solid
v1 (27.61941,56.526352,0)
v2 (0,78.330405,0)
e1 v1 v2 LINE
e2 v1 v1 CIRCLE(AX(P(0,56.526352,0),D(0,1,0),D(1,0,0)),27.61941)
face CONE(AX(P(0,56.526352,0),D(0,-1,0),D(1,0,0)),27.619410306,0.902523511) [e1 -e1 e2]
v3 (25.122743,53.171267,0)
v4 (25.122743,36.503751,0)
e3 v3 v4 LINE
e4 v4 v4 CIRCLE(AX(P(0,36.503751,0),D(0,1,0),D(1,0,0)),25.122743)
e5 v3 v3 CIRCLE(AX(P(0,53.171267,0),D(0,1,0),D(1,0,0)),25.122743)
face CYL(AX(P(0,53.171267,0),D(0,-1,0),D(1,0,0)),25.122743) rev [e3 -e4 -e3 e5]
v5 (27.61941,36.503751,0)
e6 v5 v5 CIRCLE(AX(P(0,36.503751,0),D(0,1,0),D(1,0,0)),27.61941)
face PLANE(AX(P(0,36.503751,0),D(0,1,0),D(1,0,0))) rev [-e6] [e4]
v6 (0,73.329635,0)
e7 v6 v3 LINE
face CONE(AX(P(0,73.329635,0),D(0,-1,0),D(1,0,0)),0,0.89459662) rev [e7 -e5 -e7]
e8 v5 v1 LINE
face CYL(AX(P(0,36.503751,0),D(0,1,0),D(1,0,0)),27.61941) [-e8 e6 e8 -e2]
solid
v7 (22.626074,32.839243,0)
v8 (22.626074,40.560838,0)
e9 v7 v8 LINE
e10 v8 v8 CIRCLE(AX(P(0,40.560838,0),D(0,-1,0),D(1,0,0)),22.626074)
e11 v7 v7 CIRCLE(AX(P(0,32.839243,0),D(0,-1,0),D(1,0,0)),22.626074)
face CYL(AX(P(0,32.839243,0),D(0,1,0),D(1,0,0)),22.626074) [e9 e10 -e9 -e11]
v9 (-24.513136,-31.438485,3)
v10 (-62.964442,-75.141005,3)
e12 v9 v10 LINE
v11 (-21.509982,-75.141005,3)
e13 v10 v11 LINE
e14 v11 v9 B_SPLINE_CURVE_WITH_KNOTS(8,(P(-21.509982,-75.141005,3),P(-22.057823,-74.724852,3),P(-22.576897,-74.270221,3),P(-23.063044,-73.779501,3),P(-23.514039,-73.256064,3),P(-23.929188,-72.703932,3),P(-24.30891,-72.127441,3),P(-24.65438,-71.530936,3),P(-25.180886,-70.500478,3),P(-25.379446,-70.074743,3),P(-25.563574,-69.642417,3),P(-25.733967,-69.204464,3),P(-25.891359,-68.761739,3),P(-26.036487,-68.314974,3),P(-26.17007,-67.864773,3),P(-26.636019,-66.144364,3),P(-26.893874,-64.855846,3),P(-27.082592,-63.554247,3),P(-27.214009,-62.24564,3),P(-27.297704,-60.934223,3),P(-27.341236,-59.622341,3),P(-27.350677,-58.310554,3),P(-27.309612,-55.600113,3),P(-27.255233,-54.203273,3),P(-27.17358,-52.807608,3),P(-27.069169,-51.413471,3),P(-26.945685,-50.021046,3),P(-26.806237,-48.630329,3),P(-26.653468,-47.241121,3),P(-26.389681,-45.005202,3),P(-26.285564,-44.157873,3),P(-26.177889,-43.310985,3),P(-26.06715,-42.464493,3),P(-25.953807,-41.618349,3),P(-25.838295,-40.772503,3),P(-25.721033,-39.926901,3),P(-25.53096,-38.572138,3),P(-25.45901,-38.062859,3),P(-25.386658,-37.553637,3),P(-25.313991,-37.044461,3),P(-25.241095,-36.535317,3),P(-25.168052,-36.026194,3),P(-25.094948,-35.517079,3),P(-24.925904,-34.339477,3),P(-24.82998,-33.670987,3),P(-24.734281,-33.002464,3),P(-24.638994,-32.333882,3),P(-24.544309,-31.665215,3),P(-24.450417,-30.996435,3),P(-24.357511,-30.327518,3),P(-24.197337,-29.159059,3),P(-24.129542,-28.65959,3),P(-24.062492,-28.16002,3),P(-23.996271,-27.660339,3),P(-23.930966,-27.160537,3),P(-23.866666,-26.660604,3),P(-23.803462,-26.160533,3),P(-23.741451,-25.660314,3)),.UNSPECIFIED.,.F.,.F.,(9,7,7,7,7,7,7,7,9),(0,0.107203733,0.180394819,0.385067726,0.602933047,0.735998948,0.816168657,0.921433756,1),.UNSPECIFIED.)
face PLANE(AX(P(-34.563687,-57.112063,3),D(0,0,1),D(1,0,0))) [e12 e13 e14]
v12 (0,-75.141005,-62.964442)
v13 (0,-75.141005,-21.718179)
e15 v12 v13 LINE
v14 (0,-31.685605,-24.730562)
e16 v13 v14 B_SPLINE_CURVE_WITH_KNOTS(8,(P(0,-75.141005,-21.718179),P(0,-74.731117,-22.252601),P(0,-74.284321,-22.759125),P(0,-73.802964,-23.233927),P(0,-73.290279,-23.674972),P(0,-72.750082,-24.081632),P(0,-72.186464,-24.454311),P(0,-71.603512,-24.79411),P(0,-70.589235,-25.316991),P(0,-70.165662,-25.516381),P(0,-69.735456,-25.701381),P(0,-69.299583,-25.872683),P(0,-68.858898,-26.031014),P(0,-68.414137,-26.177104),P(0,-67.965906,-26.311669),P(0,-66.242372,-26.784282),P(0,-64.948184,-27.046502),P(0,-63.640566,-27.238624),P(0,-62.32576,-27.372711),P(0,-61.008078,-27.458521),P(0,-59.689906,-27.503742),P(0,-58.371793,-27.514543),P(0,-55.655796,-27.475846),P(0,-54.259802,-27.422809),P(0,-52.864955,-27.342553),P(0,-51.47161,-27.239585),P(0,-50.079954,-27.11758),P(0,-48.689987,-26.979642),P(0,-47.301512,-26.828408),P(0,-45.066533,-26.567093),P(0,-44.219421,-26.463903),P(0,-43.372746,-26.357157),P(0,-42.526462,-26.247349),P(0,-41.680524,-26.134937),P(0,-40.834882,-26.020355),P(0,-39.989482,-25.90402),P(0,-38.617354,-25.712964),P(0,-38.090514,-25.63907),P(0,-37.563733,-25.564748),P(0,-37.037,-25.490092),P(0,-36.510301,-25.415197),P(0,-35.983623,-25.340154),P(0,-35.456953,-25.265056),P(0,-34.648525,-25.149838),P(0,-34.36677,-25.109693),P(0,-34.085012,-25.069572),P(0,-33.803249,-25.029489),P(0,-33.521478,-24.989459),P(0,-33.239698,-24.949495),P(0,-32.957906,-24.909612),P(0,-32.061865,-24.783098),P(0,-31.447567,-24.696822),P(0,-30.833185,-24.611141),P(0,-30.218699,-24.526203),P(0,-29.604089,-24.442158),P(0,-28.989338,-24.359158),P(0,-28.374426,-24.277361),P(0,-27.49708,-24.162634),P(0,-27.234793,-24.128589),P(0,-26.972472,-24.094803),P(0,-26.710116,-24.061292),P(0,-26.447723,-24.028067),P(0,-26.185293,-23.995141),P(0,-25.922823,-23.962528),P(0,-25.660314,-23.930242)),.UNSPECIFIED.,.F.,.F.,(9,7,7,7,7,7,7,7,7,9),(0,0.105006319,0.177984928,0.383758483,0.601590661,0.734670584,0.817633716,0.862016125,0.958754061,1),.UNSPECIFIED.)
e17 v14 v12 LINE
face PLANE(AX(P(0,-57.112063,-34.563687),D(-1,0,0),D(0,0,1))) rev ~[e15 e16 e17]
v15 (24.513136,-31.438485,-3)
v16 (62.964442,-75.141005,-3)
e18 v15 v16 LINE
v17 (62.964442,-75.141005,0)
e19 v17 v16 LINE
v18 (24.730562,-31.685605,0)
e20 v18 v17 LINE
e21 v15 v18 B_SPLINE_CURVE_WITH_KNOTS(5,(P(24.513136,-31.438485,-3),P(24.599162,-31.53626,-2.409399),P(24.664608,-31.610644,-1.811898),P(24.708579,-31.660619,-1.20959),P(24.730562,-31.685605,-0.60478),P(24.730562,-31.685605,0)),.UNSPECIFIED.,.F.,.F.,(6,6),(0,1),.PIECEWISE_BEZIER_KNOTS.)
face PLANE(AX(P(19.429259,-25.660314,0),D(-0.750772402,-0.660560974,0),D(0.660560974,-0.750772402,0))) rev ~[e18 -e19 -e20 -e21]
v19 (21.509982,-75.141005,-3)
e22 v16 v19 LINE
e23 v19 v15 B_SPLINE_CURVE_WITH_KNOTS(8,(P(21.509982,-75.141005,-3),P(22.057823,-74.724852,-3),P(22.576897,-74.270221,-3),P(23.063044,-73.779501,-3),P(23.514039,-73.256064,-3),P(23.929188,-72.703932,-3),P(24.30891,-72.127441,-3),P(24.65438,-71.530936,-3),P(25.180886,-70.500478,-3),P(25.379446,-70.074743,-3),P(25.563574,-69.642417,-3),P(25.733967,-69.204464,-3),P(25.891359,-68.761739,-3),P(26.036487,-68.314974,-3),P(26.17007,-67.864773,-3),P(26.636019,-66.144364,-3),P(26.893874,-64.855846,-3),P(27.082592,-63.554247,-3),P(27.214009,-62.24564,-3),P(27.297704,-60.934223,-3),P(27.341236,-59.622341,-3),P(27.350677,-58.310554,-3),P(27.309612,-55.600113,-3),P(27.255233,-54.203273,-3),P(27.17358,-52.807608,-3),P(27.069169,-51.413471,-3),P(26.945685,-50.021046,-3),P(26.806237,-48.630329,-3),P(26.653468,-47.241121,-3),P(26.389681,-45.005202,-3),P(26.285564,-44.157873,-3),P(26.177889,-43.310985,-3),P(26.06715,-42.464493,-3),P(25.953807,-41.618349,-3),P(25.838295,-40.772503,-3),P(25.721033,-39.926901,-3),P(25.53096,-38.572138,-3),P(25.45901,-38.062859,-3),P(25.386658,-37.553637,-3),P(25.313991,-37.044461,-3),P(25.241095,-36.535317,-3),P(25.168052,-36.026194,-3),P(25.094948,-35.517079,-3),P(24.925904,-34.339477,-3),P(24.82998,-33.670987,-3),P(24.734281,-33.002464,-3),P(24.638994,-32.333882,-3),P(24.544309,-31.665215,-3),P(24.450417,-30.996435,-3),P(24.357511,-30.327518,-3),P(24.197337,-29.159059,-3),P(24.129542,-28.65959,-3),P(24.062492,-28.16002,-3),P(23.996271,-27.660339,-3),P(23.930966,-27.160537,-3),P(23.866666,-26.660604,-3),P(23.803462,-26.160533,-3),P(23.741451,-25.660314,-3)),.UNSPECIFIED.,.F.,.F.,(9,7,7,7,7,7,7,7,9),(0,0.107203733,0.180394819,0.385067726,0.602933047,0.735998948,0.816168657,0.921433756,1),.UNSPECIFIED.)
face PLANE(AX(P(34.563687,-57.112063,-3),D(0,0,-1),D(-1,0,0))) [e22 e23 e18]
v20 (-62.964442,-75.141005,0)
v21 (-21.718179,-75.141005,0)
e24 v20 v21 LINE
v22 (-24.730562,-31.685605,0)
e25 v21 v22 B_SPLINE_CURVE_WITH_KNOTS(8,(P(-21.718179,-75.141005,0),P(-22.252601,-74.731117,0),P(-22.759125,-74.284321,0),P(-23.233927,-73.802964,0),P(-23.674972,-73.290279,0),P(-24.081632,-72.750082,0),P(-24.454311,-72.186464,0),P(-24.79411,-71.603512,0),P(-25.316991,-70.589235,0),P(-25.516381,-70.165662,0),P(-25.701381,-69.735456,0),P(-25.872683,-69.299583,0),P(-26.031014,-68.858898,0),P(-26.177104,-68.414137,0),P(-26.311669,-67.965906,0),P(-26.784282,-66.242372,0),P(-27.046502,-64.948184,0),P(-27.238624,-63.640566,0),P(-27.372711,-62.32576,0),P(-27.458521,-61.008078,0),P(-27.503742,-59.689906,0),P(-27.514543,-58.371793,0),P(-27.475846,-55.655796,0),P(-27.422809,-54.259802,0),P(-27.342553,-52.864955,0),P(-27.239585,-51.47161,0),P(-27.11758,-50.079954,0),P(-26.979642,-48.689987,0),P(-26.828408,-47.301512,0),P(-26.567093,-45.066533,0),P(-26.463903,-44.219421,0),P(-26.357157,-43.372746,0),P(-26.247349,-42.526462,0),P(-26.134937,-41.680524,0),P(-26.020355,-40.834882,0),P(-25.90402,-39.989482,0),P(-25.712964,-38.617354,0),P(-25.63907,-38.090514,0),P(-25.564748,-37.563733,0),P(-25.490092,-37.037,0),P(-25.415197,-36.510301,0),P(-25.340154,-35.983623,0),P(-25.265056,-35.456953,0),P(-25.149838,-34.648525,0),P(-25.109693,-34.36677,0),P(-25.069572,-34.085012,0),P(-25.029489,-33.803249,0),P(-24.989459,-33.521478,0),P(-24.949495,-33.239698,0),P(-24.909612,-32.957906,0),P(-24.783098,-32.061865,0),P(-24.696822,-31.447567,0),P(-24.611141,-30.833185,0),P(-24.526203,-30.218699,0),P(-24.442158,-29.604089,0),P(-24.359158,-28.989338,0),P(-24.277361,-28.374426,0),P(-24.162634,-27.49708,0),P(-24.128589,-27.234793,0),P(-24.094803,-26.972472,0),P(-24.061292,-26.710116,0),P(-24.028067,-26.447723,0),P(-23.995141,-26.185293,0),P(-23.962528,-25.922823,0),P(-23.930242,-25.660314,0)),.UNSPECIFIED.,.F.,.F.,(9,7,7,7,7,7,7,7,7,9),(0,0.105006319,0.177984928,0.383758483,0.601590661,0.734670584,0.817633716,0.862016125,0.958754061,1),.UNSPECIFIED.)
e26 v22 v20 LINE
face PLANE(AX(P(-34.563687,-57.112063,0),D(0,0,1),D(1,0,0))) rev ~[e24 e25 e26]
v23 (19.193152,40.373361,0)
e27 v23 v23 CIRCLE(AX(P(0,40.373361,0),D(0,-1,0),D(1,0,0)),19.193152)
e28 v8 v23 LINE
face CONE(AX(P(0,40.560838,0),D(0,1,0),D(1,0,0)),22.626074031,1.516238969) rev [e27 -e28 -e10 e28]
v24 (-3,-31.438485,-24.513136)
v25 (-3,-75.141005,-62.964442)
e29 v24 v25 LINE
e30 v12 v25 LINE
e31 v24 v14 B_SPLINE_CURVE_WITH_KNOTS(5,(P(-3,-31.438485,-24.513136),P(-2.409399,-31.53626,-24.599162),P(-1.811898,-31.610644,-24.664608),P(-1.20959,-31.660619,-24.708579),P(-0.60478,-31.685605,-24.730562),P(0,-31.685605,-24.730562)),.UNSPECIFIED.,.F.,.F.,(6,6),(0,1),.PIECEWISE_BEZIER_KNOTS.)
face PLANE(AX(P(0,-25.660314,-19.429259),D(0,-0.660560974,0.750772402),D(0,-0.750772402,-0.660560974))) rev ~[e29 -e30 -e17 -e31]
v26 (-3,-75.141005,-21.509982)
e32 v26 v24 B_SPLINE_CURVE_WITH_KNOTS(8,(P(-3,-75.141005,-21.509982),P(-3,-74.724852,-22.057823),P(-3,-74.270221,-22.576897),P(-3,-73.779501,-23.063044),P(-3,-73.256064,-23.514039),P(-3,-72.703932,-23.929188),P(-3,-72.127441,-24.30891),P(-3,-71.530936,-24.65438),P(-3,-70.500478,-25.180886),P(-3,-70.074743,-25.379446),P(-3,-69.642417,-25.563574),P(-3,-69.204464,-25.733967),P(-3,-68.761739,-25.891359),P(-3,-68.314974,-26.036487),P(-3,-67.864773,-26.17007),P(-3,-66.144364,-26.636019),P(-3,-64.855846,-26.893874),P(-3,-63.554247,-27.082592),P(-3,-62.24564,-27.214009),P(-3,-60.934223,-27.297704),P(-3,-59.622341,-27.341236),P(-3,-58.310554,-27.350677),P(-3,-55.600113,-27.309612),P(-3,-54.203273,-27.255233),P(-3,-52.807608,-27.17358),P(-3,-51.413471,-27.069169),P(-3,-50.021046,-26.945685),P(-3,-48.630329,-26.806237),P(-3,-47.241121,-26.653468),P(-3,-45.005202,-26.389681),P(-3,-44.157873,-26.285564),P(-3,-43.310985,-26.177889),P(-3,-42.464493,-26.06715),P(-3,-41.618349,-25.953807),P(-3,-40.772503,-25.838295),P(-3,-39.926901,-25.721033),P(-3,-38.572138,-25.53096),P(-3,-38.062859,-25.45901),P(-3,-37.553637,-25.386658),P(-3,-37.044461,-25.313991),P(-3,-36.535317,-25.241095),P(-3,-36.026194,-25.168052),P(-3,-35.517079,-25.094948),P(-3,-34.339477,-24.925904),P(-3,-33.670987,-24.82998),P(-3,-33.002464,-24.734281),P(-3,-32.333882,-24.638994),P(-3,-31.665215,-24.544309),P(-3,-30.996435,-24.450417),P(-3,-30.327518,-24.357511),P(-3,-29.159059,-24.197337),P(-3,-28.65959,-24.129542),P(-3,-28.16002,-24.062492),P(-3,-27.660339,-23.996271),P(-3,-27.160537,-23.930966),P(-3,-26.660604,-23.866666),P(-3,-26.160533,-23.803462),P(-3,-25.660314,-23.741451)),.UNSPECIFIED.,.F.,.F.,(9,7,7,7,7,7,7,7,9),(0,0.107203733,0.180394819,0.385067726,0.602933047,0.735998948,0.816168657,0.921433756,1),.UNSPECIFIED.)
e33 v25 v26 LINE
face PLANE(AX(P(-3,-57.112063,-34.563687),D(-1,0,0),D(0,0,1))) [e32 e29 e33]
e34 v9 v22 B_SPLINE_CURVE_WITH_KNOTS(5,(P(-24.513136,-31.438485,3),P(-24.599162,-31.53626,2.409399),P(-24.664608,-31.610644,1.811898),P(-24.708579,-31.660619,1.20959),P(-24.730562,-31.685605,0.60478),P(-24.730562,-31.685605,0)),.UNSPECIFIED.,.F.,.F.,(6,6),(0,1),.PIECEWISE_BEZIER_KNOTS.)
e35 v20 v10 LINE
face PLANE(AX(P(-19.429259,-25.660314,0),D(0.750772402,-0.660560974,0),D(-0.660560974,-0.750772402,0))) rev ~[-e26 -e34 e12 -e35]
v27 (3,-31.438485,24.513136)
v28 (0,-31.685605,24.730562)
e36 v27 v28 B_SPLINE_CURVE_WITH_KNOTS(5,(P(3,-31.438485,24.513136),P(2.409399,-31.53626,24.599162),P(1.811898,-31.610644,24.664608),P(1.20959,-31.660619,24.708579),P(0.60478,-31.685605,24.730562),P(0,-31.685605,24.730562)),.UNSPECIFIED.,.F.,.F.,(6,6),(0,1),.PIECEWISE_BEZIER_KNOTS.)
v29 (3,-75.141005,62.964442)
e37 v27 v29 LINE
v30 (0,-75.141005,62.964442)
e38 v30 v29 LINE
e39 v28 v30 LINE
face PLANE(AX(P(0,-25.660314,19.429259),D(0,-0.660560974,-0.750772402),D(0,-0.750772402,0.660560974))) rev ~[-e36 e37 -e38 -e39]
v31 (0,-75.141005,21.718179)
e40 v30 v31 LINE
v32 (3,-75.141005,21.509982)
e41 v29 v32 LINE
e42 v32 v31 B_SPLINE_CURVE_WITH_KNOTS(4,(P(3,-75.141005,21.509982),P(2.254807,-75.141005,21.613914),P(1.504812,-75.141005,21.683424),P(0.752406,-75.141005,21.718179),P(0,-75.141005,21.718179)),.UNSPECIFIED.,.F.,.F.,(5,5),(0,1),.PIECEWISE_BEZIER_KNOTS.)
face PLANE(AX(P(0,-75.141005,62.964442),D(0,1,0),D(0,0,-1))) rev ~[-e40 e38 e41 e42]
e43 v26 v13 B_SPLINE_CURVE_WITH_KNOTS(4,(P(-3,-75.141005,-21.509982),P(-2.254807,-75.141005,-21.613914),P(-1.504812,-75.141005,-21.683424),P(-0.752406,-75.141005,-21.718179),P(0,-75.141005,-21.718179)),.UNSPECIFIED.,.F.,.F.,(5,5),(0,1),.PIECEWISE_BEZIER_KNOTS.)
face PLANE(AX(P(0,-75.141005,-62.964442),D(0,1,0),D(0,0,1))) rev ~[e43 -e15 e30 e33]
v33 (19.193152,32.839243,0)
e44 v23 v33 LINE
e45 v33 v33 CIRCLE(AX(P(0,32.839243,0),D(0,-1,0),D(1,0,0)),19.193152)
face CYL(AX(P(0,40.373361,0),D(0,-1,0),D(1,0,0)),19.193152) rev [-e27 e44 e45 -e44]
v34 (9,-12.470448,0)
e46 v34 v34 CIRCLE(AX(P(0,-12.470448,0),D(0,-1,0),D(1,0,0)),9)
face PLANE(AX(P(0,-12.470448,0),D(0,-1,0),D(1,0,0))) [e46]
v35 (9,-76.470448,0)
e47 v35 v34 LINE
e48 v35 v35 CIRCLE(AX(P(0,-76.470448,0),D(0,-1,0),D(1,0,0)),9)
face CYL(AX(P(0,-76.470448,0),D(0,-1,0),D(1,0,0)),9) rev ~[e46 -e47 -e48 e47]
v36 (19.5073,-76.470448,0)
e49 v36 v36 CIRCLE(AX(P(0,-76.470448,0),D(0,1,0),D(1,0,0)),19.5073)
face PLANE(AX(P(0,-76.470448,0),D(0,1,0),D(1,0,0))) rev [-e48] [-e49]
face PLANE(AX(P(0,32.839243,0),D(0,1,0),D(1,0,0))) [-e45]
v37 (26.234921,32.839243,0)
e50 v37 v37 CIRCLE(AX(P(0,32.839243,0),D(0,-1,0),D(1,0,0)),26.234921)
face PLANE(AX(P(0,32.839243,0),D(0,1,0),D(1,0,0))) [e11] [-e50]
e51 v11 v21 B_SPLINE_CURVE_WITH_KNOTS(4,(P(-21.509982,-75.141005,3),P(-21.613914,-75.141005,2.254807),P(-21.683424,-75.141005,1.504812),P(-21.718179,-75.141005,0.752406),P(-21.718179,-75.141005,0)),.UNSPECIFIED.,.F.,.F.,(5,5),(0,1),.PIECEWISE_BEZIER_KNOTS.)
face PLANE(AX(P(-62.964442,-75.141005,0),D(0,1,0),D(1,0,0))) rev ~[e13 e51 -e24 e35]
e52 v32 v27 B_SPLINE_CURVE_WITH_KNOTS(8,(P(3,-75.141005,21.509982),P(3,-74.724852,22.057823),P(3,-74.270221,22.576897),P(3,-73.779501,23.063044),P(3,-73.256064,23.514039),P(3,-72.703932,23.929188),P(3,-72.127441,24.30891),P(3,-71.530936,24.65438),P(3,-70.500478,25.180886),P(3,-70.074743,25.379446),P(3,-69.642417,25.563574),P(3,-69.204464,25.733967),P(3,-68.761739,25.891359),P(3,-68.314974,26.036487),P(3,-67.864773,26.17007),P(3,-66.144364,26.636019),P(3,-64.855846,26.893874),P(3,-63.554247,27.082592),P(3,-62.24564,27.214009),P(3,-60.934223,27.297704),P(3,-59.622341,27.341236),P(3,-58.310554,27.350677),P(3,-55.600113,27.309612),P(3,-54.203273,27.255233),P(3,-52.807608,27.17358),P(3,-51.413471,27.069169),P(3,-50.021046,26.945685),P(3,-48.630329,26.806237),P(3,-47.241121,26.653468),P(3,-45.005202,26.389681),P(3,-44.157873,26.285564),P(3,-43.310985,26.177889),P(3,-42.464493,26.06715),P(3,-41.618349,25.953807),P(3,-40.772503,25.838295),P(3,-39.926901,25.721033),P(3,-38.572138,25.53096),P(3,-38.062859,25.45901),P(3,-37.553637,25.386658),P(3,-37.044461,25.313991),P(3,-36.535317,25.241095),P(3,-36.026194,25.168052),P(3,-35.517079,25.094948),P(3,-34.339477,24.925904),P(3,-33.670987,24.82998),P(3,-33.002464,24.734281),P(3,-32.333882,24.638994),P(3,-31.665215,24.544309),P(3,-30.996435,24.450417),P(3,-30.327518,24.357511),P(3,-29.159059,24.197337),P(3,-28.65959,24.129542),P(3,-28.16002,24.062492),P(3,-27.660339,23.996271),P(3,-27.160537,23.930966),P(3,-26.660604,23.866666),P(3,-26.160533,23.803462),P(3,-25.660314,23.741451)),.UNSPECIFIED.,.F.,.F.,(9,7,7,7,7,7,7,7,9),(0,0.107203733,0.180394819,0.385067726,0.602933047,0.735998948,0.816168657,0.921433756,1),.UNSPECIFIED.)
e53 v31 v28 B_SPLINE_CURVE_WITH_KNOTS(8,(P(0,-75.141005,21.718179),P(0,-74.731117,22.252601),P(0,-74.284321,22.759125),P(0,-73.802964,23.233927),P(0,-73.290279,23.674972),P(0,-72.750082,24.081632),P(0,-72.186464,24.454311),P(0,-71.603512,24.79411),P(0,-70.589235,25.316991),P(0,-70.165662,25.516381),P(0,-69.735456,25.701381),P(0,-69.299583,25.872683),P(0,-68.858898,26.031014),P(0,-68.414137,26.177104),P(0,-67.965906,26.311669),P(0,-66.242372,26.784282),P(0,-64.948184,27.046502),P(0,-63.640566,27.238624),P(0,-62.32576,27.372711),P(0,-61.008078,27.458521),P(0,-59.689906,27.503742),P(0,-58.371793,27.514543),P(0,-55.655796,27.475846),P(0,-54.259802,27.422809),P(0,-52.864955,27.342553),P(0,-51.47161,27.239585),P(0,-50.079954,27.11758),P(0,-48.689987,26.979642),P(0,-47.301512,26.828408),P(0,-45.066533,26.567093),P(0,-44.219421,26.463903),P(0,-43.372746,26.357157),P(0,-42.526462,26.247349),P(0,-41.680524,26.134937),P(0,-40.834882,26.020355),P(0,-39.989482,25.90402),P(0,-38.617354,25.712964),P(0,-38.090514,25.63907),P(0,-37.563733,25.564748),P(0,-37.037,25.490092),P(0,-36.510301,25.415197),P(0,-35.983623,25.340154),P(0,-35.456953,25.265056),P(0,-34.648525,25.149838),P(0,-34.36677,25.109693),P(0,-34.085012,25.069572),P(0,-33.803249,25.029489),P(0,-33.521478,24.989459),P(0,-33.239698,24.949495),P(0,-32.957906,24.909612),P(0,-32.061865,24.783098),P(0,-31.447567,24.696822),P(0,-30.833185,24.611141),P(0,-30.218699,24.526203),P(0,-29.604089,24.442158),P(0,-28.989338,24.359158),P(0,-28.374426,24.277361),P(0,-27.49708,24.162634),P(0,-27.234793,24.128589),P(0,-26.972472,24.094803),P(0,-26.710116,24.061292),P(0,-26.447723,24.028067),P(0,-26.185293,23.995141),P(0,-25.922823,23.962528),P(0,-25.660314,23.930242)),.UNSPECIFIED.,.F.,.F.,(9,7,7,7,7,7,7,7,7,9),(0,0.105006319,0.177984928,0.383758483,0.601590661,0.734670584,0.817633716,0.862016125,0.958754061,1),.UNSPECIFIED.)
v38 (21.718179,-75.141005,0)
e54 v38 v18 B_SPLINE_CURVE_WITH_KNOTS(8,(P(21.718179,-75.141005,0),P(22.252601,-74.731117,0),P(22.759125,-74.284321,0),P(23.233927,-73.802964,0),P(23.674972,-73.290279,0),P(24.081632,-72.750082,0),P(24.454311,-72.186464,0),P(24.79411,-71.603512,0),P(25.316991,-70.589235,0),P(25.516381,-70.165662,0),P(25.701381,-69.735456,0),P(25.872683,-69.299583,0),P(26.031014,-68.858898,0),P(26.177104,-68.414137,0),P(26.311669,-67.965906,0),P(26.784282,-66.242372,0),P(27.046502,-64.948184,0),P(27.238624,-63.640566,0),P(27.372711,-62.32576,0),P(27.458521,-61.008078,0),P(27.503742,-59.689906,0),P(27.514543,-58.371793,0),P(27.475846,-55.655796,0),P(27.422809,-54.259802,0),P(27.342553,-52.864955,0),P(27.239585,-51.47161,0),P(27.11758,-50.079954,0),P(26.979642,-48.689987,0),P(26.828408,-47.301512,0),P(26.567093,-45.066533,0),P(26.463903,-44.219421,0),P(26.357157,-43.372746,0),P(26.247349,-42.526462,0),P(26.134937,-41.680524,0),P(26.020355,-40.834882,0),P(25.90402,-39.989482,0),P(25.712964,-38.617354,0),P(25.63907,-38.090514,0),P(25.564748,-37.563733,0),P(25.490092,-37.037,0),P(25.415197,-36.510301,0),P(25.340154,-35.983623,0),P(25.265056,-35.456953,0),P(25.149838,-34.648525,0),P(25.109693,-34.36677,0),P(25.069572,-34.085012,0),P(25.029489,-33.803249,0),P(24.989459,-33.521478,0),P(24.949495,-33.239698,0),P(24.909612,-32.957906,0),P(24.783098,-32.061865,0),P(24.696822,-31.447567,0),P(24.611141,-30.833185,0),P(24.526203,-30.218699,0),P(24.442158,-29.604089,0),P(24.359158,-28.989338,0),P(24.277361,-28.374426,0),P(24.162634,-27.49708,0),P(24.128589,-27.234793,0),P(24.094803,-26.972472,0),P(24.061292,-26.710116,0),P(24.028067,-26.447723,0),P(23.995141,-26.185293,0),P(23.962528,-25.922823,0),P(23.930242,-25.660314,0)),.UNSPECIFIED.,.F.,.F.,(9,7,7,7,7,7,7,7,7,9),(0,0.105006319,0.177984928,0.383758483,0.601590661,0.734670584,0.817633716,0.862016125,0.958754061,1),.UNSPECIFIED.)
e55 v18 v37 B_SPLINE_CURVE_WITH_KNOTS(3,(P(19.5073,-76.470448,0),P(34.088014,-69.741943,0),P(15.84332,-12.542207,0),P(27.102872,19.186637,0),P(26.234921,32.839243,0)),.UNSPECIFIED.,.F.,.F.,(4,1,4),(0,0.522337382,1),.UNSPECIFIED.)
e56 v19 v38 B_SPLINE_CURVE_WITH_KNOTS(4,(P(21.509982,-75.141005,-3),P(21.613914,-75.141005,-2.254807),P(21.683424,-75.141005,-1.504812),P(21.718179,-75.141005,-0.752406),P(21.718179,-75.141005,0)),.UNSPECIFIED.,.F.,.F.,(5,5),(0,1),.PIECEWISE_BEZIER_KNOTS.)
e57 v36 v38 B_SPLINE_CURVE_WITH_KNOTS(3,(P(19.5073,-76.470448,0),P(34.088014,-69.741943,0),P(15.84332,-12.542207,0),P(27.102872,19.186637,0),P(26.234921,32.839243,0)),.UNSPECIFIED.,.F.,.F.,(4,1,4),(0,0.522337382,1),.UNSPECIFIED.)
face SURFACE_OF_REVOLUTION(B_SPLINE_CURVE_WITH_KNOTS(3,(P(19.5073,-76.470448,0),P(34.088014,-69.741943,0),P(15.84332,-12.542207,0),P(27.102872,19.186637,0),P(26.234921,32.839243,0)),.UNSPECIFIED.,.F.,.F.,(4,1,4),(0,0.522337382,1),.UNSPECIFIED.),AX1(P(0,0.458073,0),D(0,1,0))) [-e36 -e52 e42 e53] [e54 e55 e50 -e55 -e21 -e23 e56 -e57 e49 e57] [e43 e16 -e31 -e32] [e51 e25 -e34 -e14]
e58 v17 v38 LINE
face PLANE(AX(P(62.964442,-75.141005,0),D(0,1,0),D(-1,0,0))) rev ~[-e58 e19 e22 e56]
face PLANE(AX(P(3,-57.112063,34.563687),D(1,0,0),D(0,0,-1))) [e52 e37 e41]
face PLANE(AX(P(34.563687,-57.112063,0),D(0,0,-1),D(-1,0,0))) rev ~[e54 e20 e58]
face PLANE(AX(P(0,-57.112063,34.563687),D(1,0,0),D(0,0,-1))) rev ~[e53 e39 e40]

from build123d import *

# Parameters (mm, degrees)
F3_DEPTH = 3
F4_COUNT = 4
F5_R     = 9
F6_DEPTH = 64


with BuildPart() as f1:
    # F0 (on Top) → F1 (revolve)
    with BuildSketch(Plane.XY):
        Polygon((0, 78.3304050565), (0, 73.3296349645), (25.1227430999, 53.1712672173), (25.1227430999, 36.5037508309), (27.6194103062, 36.5037508309), (27.6194103062, 56.5263518006), align=None)
    revolve(axis=Axis((0, 0.458072871, 0), (0, 1, 0)))


with BuildPart() as f1b:
    # F0 (on Top) → F1, piece 2 (revolve)
    with BuildSketch(Plane.XY):
        with BuildLine():
            Line((0, 32.8392432414), (0, -76.4704482857))
            Line((0, -76.4704482857), (19.5072996486, -76.4704482857))
            add(Edge.make_bspline(
                [(19.5072996486, -76.4704482857), (34.0880141667, -69.7419434883), (15.8433199539, -12.5422067499), (27.1028720904, 19.1866374149), (26.2349213479, 32.8392432414)],
                knots=[0, 0, 0, 0, 0.5223373822, 1, 1, 1, 1], degree=3))
            Line((26.2349213479, 32.8392432414), (22.626074031, 32.8392432414))
            Line((22.626074031, 32.8392432414), (22.626074031, 40.5608378351))
            Line((22.626074031, 40.5608378351), (19.1931519657, 40.3733606302))
            Line((19.1931519657, 40.3733606302), (19.1931519657, 32.8392432414))
            Line((19.1931519657, 32.8392432414), (0, 32.8392432414))
        make_face()
    revolve(axis=Axis((0, 0.458072871, 0), (0, 1, 0)))

    # F2 (on Top) → F3 (join)
    with BuildSketch(Plane.XY):
        Polygon((-62.9644419025, -75.141005218), (-20.0095027685, -75.141005218), (-19.4292590022, -25.6603136659), align=None)
    extrude(amount=F3_DEPTH)

    # F4: F1b ×4 about axis
    f4_axis = Axis((0, 0.458072871, 0), (0, 1, 0))


with BuildPart() as f1b_1:
    add(f1b.part)
    for i in range(1, F4_COUNT):
        add(f1b.part.rotate(f4_axis, i * 360 / F4_COUNT))

    # F5 (on face) → F6 (cut)
    with BuildSketch(Plane.XZ.offset(76.4704482857)):
        Circle(F5_R)
    extrude(amount=-F6_DEPTH, mode=Mode.SUBTRACT)


solid = Compound([f1.part, f1b_1.part])
